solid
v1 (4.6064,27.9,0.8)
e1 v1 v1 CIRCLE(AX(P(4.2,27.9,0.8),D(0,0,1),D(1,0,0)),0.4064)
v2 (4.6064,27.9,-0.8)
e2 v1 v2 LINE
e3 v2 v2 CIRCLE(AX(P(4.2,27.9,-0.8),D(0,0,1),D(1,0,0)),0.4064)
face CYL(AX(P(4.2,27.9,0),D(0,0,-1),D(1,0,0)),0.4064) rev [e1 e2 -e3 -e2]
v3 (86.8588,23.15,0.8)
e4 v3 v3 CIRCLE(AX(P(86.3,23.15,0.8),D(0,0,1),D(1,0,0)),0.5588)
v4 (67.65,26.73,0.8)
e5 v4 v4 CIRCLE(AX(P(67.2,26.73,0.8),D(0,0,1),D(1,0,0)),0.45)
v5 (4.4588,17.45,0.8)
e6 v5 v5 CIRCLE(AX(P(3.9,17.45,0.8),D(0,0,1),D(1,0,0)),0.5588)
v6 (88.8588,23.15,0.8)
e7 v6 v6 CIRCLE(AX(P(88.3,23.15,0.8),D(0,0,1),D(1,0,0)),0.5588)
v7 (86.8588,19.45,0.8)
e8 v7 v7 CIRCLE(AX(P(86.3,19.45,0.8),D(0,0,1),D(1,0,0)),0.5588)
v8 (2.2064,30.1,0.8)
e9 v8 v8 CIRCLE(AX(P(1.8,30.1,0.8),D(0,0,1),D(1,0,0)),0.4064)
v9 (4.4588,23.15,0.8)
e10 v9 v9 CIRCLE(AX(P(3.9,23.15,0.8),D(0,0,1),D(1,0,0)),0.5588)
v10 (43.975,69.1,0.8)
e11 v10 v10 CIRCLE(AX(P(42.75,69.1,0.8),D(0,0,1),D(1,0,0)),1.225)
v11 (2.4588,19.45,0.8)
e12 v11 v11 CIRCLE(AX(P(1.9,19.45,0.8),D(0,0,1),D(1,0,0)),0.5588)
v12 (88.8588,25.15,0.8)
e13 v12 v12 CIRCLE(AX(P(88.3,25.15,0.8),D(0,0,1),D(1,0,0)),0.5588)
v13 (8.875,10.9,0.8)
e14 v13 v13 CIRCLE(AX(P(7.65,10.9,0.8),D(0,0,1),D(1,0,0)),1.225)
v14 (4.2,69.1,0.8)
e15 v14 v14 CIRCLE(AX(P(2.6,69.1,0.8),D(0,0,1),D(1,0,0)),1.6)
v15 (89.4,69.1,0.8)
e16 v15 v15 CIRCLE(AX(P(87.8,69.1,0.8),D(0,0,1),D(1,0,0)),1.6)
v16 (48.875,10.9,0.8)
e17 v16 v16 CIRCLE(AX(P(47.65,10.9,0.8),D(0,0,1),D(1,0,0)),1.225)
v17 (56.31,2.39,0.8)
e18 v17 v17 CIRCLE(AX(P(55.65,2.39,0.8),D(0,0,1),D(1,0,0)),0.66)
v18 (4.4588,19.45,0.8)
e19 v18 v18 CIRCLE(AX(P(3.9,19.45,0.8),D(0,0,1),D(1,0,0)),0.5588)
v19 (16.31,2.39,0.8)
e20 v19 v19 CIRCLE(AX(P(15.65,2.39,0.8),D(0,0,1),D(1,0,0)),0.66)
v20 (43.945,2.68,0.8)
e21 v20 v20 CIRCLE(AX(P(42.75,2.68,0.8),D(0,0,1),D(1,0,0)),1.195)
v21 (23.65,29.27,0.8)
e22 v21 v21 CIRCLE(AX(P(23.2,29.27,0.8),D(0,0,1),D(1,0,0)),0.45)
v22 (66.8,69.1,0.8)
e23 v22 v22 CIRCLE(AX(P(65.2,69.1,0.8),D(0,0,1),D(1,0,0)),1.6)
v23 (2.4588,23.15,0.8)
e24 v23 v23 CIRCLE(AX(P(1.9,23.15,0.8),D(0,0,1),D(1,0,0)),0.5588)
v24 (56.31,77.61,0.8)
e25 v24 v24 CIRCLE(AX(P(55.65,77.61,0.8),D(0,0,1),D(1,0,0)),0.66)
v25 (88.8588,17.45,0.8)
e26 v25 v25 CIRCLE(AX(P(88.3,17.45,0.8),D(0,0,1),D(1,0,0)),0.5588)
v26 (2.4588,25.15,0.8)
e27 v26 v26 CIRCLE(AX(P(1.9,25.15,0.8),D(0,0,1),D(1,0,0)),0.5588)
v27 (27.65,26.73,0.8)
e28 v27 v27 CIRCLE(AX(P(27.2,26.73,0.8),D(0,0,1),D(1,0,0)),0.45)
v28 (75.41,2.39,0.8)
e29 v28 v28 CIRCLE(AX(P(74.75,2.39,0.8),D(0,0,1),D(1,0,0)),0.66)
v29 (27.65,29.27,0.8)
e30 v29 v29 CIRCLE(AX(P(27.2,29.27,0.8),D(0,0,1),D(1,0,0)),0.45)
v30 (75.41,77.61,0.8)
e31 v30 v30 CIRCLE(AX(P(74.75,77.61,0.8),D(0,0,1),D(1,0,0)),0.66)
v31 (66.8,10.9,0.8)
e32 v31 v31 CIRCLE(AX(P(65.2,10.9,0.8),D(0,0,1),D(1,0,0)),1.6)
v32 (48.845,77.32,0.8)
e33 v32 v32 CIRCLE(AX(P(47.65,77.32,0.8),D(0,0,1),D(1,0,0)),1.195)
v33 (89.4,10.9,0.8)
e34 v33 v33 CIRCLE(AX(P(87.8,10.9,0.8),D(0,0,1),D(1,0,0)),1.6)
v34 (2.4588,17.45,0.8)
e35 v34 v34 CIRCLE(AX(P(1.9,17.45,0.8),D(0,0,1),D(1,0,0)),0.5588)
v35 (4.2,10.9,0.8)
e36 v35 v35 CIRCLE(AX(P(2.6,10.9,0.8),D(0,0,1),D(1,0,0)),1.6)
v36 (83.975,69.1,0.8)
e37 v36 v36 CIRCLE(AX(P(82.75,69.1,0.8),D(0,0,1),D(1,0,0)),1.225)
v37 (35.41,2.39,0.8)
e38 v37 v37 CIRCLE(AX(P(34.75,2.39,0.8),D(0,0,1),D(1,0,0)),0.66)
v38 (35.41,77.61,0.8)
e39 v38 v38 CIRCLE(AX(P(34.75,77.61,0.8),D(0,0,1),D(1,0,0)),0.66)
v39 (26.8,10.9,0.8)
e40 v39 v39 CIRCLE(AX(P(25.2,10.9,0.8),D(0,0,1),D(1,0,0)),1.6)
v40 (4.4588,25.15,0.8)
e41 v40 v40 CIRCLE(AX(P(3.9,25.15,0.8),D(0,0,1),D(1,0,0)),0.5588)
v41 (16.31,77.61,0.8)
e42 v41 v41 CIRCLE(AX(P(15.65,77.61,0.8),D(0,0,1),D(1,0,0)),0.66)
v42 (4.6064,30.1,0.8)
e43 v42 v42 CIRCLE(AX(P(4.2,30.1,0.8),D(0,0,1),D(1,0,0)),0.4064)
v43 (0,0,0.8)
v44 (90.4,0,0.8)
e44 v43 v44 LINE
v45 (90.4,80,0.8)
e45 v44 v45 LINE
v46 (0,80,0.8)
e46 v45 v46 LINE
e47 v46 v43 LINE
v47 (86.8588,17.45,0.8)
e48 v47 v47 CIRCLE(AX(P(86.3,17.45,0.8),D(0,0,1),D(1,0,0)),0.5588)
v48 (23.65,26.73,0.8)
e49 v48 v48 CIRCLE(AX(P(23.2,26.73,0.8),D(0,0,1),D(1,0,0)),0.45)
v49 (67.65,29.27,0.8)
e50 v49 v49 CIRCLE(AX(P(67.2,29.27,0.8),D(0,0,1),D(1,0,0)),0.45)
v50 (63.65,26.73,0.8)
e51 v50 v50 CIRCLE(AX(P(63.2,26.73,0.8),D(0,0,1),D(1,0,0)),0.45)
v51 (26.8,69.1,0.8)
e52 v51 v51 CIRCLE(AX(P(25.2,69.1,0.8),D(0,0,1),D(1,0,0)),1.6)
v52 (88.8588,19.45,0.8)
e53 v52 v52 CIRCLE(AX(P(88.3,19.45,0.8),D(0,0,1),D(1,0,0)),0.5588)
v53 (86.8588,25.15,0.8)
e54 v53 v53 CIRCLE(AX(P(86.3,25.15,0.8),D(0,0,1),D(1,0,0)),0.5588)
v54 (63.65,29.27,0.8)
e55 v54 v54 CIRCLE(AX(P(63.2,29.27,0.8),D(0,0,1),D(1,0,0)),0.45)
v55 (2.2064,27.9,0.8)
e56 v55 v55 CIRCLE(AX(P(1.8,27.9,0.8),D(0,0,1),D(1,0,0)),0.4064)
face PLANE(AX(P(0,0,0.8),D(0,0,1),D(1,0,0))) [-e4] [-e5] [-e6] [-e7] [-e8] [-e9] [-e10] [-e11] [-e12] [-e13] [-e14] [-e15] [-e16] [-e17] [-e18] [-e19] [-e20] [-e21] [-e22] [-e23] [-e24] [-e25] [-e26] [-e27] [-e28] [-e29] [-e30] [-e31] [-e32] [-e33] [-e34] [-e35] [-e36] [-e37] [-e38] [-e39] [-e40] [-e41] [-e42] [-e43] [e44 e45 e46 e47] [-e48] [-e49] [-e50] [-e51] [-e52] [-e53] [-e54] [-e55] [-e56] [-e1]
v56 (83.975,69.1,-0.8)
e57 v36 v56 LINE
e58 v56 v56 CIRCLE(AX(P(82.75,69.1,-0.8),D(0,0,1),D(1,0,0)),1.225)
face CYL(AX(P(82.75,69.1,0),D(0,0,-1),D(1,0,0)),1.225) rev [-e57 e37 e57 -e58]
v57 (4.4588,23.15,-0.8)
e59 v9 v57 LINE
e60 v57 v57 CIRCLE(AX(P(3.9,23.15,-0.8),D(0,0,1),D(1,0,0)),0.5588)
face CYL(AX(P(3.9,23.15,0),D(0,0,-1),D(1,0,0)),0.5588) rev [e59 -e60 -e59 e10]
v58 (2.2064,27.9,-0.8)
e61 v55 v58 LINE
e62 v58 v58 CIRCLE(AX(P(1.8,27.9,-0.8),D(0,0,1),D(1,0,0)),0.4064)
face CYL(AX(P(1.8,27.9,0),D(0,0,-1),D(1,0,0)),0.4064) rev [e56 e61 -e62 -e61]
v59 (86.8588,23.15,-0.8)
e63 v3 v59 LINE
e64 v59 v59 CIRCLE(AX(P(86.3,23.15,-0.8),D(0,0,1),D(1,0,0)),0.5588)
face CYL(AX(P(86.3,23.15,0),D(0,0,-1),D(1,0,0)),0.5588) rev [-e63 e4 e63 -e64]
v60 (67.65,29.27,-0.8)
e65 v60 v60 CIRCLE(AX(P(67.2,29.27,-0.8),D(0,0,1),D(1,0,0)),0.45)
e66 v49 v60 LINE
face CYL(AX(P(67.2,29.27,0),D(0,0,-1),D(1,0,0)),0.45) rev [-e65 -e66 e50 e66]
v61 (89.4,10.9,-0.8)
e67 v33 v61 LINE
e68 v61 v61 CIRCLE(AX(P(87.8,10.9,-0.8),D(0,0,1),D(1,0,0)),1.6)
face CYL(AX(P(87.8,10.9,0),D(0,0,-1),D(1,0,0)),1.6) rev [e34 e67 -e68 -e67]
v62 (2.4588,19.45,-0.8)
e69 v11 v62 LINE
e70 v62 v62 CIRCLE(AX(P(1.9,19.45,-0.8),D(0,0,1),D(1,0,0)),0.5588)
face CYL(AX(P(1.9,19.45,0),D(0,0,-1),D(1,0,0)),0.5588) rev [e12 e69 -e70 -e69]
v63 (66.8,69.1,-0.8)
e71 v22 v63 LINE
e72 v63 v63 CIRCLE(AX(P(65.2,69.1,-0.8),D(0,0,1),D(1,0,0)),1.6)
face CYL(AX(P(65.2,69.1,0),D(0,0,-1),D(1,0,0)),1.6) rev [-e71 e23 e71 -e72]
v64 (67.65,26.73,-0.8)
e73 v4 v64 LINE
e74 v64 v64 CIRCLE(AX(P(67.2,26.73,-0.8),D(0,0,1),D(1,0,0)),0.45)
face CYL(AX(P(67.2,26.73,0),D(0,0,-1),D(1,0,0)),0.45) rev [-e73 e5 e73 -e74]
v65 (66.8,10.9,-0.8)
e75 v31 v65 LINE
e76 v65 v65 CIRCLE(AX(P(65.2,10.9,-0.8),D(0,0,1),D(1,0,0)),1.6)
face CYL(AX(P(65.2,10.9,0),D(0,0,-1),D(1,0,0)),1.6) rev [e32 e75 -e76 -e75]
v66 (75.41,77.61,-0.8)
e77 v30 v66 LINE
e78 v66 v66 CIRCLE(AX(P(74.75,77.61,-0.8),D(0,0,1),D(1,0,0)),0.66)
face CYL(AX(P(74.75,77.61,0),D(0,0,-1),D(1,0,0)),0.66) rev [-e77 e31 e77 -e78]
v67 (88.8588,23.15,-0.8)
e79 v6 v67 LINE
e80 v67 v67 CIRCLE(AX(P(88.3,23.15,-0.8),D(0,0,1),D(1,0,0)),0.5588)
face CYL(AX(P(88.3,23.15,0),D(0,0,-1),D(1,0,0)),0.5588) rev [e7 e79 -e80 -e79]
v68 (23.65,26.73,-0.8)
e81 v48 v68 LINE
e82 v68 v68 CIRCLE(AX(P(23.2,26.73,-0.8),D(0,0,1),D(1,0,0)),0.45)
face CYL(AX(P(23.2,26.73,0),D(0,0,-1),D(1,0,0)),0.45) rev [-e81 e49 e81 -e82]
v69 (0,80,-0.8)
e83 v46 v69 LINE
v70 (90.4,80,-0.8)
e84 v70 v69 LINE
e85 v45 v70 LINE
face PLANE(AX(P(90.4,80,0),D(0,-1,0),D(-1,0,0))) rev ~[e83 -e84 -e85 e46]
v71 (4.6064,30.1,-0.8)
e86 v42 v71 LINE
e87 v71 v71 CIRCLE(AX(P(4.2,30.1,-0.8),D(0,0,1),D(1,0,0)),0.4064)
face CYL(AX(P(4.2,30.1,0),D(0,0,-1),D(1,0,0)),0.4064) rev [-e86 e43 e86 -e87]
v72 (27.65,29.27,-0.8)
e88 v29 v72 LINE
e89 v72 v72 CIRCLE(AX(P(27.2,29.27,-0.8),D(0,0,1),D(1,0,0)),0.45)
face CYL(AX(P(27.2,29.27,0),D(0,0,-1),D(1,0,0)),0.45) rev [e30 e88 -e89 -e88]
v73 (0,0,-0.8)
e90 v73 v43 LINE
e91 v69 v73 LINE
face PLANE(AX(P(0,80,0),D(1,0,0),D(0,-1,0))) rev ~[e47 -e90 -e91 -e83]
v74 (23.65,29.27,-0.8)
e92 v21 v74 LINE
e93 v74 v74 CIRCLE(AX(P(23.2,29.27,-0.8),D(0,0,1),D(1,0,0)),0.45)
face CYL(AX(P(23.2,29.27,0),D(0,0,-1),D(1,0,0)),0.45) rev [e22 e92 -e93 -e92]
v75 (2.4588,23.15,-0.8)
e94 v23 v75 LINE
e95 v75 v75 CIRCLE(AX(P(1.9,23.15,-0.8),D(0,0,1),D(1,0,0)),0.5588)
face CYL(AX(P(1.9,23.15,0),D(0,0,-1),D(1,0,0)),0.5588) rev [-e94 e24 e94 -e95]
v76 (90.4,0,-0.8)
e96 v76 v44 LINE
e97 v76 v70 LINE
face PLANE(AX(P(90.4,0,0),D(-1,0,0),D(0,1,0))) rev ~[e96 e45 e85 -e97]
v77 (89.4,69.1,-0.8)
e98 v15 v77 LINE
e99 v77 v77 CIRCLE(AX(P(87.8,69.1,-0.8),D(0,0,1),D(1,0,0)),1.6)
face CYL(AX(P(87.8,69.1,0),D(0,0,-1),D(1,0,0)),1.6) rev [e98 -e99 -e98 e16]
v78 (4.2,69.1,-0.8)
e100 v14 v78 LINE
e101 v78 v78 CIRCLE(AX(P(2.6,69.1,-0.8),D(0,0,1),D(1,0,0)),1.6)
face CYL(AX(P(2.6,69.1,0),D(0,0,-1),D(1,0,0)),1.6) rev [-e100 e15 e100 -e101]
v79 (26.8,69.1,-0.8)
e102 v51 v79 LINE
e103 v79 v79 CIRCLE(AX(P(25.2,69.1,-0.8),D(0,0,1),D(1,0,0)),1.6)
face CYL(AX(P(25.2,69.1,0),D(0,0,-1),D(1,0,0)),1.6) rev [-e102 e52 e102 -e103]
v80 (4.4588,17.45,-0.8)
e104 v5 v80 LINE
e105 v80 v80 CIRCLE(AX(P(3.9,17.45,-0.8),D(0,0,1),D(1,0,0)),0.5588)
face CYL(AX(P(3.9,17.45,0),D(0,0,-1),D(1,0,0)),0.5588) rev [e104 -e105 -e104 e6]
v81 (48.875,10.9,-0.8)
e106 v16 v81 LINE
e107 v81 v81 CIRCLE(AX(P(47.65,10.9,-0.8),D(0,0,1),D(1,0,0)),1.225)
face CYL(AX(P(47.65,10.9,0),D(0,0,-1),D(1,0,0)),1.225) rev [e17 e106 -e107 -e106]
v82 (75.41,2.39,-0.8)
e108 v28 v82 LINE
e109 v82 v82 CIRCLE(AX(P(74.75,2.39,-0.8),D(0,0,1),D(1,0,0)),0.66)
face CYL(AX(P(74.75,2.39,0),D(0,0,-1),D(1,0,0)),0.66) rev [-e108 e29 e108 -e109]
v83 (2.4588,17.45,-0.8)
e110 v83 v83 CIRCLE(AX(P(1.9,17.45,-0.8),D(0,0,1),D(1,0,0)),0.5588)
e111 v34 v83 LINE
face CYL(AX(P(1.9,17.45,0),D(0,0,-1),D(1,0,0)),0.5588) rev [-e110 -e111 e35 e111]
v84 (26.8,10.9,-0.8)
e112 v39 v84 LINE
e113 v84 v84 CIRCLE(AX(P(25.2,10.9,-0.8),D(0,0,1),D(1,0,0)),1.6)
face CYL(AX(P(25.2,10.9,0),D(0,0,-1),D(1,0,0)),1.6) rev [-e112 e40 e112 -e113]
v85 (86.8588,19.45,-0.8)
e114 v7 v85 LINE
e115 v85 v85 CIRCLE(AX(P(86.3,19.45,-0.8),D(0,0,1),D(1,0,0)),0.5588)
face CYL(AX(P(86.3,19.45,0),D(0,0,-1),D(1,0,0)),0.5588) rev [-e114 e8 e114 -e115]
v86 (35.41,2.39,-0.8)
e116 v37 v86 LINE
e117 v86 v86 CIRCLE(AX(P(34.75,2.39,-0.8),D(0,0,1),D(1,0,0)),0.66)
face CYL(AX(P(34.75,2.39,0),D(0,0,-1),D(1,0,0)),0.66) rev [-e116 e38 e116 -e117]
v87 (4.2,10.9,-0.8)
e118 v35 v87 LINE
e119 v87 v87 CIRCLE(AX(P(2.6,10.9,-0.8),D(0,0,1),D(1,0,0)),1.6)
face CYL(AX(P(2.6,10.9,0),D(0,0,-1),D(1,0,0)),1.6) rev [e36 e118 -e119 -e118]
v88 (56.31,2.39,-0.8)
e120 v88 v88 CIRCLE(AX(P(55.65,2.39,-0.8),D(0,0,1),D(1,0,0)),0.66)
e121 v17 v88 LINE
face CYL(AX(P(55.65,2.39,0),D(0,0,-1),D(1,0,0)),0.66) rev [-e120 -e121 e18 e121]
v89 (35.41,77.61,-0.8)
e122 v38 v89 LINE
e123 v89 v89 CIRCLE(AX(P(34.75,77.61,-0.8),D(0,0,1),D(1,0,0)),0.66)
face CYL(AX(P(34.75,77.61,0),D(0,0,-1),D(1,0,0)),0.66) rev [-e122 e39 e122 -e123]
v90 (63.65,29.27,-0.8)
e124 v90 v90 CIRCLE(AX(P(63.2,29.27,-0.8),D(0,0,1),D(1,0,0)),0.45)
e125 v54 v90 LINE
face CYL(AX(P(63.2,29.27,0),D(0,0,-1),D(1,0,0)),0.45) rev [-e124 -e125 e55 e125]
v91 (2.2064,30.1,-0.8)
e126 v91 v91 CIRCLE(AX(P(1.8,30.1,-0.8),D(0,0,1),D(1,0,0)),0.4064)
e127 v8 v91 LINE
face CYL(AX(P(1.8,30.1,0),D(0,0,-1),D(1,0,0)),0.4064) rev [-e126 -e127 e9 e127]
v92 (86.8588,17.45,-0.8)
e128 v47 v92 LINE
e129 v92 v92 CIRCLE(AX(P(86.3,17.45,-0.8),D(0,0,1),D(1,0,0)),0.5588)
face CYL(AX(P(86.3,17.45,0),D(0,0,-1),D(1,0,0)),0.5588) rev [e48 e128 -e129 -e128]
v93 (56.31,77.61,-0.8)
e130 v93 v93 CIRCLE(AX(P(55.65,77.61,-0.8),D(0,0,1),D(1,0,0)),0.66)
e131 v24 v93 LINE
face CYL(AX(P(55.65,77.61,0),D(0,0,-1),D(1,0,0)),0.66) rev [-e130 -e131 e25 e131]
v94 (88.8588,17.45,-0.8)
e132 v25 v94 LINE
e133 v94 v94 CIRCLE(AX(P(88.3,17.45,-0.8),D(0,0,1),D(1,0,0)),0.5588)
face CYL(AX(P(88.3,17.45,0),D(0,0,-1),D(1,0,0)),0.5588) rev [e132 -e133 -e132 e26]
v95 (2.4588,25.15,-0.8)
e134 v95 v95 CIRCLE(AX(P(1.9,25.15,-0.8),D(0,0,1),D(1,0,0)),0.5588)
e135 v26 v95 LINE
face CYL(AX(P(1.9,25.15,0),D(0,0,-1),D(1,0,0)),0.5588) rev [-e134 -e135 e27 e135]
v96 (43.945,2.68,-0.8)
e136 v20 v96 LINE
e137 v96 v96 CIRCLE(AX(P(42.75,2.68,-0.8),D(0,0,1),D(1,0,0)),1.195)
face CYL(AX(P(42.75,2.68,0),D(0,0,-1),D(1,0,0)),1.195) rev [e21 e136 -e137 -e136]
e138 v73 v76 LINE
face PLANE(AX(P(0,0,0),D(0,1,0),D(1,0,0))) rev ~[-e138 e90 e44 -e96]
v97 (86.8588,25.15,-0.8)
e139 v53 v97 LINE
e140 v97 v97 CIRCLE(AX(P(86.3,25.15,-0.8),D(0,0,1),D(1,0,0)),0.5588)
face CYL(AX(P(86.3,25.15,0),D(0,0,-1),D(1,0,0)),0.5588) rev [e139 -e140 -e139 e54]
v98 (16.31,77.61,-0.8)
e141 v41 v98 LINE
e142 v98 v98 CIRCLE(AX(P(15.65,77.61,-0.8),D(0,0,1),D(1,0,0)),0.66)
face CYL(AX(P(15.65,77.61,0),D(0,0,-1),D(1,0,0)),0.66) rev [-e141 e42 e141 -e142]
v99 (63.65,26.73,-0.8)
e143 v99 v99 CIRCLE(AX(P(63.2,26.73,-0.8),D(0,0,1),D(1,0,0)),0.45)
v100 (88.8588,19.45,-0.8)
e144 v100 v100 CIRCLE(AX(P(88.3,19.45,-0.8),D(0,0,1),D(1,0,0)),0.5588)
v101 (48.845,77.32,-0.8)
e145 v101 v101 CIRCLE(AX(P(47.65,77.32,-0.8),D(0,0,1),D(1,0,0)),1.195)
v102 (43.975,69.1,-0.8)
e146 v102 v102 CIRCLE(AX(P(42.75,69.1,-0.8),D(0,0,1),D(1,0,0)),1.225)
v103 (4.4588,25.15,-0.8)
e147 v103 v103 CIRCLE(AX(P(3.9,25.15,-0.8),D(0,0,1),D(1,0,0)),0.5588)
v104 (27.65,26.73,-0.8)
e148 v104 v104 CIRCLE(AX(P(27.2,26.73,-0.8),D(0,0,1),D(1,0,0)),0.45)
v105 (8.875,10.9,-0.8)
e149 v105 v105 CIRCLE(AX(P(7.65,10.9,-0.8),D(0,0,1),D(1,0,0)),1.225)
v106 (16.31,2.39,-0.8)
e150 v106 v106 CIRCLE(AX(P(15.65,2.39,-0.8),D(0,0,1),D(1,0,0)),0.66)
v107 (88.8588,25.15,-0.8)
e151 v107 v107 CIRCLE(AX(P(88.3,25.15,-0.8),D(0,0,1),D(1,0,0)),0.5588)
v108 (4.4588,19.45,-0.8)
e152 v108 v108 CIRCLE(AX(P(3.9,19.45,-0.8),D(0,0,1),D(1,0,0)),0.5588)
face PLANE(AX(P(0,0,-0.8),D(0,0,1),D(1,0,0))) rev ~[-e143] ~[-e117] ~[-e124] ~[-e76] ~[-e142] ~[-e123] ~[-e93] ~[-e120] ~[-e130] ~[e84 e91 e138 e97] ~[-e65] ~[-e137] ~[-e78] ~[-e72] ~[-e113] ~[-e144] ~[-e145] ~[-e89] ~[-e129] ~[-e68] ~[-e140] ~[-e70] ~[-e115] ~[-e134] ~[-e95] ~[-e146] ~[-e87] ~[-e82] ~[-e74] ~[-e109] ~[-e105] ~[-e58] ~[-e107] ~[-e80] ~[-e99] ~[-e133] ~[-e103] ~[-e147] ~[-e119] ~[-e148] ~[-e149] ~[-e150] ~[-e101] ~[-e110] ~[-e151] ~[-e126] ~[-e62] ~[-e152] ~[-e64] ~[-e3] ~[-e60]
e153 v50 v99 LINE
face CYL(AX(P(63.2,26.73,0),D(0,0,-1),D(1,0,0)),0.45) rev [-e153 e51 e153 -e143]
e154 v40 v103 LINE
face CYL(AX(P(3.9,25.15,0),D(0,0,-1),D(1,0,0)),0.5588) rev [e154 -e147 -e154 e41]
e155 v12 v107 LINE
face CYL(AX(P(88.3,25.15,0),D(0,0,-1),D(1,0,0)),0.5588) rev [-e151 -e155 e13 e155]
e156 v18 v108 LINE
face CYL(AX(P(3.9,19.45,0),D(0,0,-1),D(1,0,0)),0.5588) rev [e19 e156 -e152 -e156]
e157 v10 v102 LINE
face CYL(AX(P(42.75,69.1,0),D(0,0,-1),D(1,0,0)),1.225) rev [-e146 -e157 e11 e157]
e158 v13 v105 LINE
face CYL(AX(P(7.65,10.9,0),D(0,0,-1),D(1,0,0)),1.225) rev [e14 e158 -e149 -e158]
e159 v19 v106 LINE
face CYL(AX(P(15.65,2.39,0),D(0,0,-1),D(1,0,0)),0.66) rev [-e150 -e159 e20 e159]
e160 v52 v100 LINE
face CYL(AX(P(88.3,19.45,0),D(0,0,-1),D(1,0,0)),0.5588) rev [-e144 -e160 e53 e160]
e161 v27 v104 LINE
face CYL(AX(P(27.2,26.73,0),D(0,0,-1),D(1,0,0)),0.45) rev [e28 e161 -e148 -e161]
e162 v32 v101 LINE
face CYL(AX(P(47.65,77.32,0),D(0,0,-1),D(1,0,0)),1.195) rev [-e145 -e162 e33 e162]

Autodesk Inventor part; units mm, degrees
ref_plane "YZ Plane" through (0, 0, 0) normal (1, 0, 0) x (0, 1, 0)
ref_plane "XZ Plane" through (0, 0, 0) normal (0, 1, 0) x (-1, 0, 0)
ref_plane "XY Plane" through (0, 0, 0) normal (0, 0, 1) x (1, 0, 0)
sketch "Skizze1" plane through (0, 0, 0) normal (0, 0, 1) x (1, 0, 0)
  line L0 (0, 0) -> (90.4, 0)
  line L1 (90.4, 0) -> (90.4, 80)
  line L2 (90.4, 80) -> (0, 80)
  line L3 (0, 80) -> (0, 0)
  line L4 (2.6, 69.1) -> (87.8, 69.1) construction
  line L5 (87.8, 69.1) -> (87.8, 10.9) construction
  line L6 (87.8, 10.9) -> (2.6, 10.9) construction
  line L7 (2.6, 10.9) -> (2.6, 69.1) construction
  circle A0 centre (2.6, 69.1) radius 1.6
  circle A1 centre (2.6, 10.9) radius 1.6
  circle A2 centre (87.8, 69.1) radius 1.6
  circle A3 centre (87.8, 10.9) radius 1.6
  line L8 (25.2, 40) -> (65.2, 40) construction
  line L9 (65.2, 69.1) -> (65.2, 10.9) construction
  line L10 (65.2, 10.9) -> (47.65, 10.9) construction
  line L11 (65.2, 69.1) -> (82.75, 69.1) construction
  line L12 (25.2, 69.1) -> (25.2, 10.9) construction
  line L13 (25.2, 69.1) -> (42.75, 69.1) construction
  line L14 (25.2, 10.9) -> (7.65, 10.9) construction
  circle A4 centre (7.65, 10.9) radius 1.225
  circle A5 centre (42.75, 69.1) radius 1.225
  circle A6 centre (82.75, 69.1) radius 1.225
  circle A7 centre (47.65, 10.9) radius 1.225
  circle A8 centre (47.65, 77.32) radius 1.195
  circle A9 centre (42.75, 2.68) radius 1.195
  circle A10 centre (65.2, 10.9) radius 1.6
  circle A11 centre (65.2, 69.1) radius 1.6
  circle A12 centre (25.2, 69.1) radius 1.6
  circle A13 centre (25.2, 10.9) radius 1.6
  line L15 (1.9, 19.45) -> (3.9, 19.45) construction
  line L16 (3.9, 19.45) -> (3.9, 17.45) construction
  line L17 (3.9, 17.45) -> (1.9, 17.45) construction
  line L18 (1.9, 17.45) -> (1.9, 19.45) construction
  line L19 (1.9, 25.15) -> (3.9, 25.15) construction
  line L20 (3.9, 25.15) -> (3.9, 23.15) construction
  line L21 (3.9, 23.15) -> (1.9, 23.15) construction
  line L22 (1.9, 23.15) -> (1.9, 25.15) construction
  line L23 (1.8, 30.1) -> (4.2, 30.1) construction
  line L24 (4.2, 30.1) -> (4.2, 27.9) construction
  line L25 (4.2, 27.9) -> (1.8, 27.9) construction
  line L26 (1.8, 27.9) -> (1.8, 30.1) construction
  line L27 (2.9, 19.45) -> (2.9, 23.15) construction
  circle A14 centre (1.9, 23.15) radius 0.5588
  circle A15 centre (3.9, 23.15) radius 0.5588
  circle A16 centre (3.9, 25.15) radius 0.5588
  circle A17 centre (1.9, 25.15) radius 0.5588
  circle A18 centre (1.9, 19.45) radius 0.5588
  circle A19 centre (3.9, 19.45) radius 0.5588
  circle A20 centre (3.9, 17.45) radius 0.5588
  circle A21 centre (1.9, 17.45) radius 0.5588
  line L28 (1.8, 27.9) -> (4.2, 30.1) construction
  circle A22 centre (4.2, 27.9) radius 0.4064
  circle A23 centre (1.8, 27.9) radius 0.4064
  circle A24 centre (4.2, 30.1) radius 0.4064
  circle A25 centre (1.8, 30.1) radius 0.4064
  line L29 (86.3, 19.45) -> (88.3, 19.45) construction
  line L30 (88.3, 19.45) -> (88.3, 17.45) construction
  line L31 (88.3, 17.45) -> (86.3, 17.45) construction
  line L32 (86.3, 17.45) -> (86.3, 19.45) construction
  line L33 (86.3, 25.15) -> (88.3, 25.15) construction
  line L34 (88.3, 25.15) -> (88.3, 23.15) construction
  line L35 (88.3, 23.15) -> (86.3, 23.15) construction
  line L36 (86.3, 23.15) -> (86.3, 25.15) construction
  line L37 (87.3, 19.45) -> (87.3, 23.15) construction
  circle A26 centre (86.3, 23.15) radius 0.5588
  circle A27 centre (88.3, 23.15) radius 0.5588
  circle A28 centre (88.3, 25.15) radius 0.5588
  circle A29 centre (86.3, 25.15) radius 0.5588
  circle A30 centre (86.3, 19.45) radius 0.5588
  circle A31 centre (88.3, 19.45) radius 0.5588
  circle A32 centre (88.3, 17.45) radius 0.5588
  circle A33 centre (86.3, 17.45) radius 0.5588
  line L38 (55.65, 77.61) -> (74.75, 77.61) construction
  line L39 (74.75, 77.61) -> (74.75, 2.39) construction
  line L40 (74.75, 2.39) -> (55.65, 2.39) construction
  line L41 (55.65, 2.39) -> (55.65, 77.61) construction
  circle A34 centre (55.65, 2.39) radius 0.66
  circle A35 centre (74.75, 2.39) radius 0.66
  circle A36 centre (74.75, 77.61) radius 0.66
  circle A37 centre (55.65, 77.61) radius 0.66
  line L42 (15.65, 77.61) -> (34.75, 77.61) construction
  line L43 (34.75, 77.61) -> (34.75, 2.39) construction
  line L44 (34.75, 2.39) -> (15.65, 2.39) construction
  line L45 (15.65, 2.39) -> (15.65, 77.61) construction
  circle A38 centre (15.65, 2.39) radius 0.66
  circle A39 centre (34.75, 2.39) radius 0.66
  circle A40 centre (34.75, 77.61) radius 0.66
  circle A41 centre (15.65, 77.61) radius 0.66
  line L46 (55.65, 2.39) -> (74.75, 77.61) construction
  line L47 (15.65, 2.39) -> (34.75, 77.61) construction
  line L48 (23.2, 29.27) -> (23.2, 26.73) construction
  circle A42 centre (23.2, 26.73) radius 0.45
  circle A43 centre (23.2, 29.27) radius 0.45
  line L49 (27.2, 29.27) -> (27.2, 26.73) construction
  circle A44 centre (27.2, 26.73) radius 0.45
  circle A45 centre (27.2, 29.27) radius 0.45
  line L50 (23.2, 28) -> (27.2, 28) construction
  line L51 (63.2, 29.27) -> (63.2, 26.73) construction
  circle A46 centre (63.2, 26.73) radius 0.45
  circle A47 centre (63.2, 29.27) radius 0.45
  circle A48 centre (67.2, 29.27) radius 0.45
  line L52 (67.2, 29.27) -> (67.2, 26.73) construction
  circle A49 centre (67.2, 26.73) radius 0.45
  line L53 (63.2, 28) -> (67.2, 28) construction
  point P0 (2.9, 21.3)
  point P1 (3, 29)
  point P2 (87.3, 21.3)
  dimension "d0" = 90.4
  dimension "d1" = 80
  dimension "d2" = 2.6
  dimension "d3" = 10.9
  dimension "d4" = 69.1
  dimension "d5" = 87.8
  dimension "d6" = 3.2
  dimension "d7" = 40
  dimension "d8" = 25.2
  dimension "d9" = 65.2
  dimension "d10" = 2.45
  dimension "d11" = 2.39
  dimension "d12" = 17.55
  dimension "d13" = 17.55
  dimension "d14" = 37.32
  dimension "d15" = 37.32
  dimension "d16" = 3.2
  dimension "d17" = 29.1
  dimension "d18" = 17.55
  dimension "d21" = 1.85
  dimension "d22" = 2
  dimension "d23" = 1.1176
  dimension "d24" = 2.4
  dimension "d25" = 2.2
  dimension "d26" = 0.8128
  dimension "d27" = 1.85
  dimension "d28" = 2
  dimension "d29" = 1.1176
  dimension "d30" = 2.9
  dimension "d31" = 3
  dimension "d32" = 21.3
  dimension "d33" = 29
  dimension "d34" = 87.3
  dimension "d35" = 21.3
  dimension "d36" = 1.32
  dimension "d37" = 19.1
  dimension "d38" = 75.22
  dimension "d39" = 1.32
  dimension "d40" = 19.1
  dimension "d41" = 75.22
  dimension "d42" = 0.9
  dimension "d43" = 2.54
  dimension "d44" = 0.9
  dimension "d45" = 2.54
  dimension "d46" = 4
  dimension "d47" = 0.9
  dimension "d48" = 2.54
  dimension "d49" = 0.9
  dimension "d50" = 2.54
  dimension "d51" = 4
  dimension "d52" = 28
  dimension "d53" = 23.2
  dimension "d54" = 63.2
extrude "Extrusion1" add sketch "Skizze1" along normal mid plane 1.6
sketch "Skizze2" plane through (0, 0, 0.8) normal (0, 0, 1) x (1, 0, 0)
  line L0 (0, 79.9165) -> (90.4, 79.9165) construction
  line L1 (90.4, 79.9165) -> (90.4, 0.0835) construction
  line L2 (90.4, 0.0835) -> (0, 0.0835) construction
  line L3 (0, 0.0835) -> (0, 79.9165) construction
  point P0 (90.4, 40)
  point P1 (0, 40)
decal "Aufkleber1"
equation "\"d13\" = d12"
equation "\"d15\" = d14"
properties part number "PSU-PCB"
